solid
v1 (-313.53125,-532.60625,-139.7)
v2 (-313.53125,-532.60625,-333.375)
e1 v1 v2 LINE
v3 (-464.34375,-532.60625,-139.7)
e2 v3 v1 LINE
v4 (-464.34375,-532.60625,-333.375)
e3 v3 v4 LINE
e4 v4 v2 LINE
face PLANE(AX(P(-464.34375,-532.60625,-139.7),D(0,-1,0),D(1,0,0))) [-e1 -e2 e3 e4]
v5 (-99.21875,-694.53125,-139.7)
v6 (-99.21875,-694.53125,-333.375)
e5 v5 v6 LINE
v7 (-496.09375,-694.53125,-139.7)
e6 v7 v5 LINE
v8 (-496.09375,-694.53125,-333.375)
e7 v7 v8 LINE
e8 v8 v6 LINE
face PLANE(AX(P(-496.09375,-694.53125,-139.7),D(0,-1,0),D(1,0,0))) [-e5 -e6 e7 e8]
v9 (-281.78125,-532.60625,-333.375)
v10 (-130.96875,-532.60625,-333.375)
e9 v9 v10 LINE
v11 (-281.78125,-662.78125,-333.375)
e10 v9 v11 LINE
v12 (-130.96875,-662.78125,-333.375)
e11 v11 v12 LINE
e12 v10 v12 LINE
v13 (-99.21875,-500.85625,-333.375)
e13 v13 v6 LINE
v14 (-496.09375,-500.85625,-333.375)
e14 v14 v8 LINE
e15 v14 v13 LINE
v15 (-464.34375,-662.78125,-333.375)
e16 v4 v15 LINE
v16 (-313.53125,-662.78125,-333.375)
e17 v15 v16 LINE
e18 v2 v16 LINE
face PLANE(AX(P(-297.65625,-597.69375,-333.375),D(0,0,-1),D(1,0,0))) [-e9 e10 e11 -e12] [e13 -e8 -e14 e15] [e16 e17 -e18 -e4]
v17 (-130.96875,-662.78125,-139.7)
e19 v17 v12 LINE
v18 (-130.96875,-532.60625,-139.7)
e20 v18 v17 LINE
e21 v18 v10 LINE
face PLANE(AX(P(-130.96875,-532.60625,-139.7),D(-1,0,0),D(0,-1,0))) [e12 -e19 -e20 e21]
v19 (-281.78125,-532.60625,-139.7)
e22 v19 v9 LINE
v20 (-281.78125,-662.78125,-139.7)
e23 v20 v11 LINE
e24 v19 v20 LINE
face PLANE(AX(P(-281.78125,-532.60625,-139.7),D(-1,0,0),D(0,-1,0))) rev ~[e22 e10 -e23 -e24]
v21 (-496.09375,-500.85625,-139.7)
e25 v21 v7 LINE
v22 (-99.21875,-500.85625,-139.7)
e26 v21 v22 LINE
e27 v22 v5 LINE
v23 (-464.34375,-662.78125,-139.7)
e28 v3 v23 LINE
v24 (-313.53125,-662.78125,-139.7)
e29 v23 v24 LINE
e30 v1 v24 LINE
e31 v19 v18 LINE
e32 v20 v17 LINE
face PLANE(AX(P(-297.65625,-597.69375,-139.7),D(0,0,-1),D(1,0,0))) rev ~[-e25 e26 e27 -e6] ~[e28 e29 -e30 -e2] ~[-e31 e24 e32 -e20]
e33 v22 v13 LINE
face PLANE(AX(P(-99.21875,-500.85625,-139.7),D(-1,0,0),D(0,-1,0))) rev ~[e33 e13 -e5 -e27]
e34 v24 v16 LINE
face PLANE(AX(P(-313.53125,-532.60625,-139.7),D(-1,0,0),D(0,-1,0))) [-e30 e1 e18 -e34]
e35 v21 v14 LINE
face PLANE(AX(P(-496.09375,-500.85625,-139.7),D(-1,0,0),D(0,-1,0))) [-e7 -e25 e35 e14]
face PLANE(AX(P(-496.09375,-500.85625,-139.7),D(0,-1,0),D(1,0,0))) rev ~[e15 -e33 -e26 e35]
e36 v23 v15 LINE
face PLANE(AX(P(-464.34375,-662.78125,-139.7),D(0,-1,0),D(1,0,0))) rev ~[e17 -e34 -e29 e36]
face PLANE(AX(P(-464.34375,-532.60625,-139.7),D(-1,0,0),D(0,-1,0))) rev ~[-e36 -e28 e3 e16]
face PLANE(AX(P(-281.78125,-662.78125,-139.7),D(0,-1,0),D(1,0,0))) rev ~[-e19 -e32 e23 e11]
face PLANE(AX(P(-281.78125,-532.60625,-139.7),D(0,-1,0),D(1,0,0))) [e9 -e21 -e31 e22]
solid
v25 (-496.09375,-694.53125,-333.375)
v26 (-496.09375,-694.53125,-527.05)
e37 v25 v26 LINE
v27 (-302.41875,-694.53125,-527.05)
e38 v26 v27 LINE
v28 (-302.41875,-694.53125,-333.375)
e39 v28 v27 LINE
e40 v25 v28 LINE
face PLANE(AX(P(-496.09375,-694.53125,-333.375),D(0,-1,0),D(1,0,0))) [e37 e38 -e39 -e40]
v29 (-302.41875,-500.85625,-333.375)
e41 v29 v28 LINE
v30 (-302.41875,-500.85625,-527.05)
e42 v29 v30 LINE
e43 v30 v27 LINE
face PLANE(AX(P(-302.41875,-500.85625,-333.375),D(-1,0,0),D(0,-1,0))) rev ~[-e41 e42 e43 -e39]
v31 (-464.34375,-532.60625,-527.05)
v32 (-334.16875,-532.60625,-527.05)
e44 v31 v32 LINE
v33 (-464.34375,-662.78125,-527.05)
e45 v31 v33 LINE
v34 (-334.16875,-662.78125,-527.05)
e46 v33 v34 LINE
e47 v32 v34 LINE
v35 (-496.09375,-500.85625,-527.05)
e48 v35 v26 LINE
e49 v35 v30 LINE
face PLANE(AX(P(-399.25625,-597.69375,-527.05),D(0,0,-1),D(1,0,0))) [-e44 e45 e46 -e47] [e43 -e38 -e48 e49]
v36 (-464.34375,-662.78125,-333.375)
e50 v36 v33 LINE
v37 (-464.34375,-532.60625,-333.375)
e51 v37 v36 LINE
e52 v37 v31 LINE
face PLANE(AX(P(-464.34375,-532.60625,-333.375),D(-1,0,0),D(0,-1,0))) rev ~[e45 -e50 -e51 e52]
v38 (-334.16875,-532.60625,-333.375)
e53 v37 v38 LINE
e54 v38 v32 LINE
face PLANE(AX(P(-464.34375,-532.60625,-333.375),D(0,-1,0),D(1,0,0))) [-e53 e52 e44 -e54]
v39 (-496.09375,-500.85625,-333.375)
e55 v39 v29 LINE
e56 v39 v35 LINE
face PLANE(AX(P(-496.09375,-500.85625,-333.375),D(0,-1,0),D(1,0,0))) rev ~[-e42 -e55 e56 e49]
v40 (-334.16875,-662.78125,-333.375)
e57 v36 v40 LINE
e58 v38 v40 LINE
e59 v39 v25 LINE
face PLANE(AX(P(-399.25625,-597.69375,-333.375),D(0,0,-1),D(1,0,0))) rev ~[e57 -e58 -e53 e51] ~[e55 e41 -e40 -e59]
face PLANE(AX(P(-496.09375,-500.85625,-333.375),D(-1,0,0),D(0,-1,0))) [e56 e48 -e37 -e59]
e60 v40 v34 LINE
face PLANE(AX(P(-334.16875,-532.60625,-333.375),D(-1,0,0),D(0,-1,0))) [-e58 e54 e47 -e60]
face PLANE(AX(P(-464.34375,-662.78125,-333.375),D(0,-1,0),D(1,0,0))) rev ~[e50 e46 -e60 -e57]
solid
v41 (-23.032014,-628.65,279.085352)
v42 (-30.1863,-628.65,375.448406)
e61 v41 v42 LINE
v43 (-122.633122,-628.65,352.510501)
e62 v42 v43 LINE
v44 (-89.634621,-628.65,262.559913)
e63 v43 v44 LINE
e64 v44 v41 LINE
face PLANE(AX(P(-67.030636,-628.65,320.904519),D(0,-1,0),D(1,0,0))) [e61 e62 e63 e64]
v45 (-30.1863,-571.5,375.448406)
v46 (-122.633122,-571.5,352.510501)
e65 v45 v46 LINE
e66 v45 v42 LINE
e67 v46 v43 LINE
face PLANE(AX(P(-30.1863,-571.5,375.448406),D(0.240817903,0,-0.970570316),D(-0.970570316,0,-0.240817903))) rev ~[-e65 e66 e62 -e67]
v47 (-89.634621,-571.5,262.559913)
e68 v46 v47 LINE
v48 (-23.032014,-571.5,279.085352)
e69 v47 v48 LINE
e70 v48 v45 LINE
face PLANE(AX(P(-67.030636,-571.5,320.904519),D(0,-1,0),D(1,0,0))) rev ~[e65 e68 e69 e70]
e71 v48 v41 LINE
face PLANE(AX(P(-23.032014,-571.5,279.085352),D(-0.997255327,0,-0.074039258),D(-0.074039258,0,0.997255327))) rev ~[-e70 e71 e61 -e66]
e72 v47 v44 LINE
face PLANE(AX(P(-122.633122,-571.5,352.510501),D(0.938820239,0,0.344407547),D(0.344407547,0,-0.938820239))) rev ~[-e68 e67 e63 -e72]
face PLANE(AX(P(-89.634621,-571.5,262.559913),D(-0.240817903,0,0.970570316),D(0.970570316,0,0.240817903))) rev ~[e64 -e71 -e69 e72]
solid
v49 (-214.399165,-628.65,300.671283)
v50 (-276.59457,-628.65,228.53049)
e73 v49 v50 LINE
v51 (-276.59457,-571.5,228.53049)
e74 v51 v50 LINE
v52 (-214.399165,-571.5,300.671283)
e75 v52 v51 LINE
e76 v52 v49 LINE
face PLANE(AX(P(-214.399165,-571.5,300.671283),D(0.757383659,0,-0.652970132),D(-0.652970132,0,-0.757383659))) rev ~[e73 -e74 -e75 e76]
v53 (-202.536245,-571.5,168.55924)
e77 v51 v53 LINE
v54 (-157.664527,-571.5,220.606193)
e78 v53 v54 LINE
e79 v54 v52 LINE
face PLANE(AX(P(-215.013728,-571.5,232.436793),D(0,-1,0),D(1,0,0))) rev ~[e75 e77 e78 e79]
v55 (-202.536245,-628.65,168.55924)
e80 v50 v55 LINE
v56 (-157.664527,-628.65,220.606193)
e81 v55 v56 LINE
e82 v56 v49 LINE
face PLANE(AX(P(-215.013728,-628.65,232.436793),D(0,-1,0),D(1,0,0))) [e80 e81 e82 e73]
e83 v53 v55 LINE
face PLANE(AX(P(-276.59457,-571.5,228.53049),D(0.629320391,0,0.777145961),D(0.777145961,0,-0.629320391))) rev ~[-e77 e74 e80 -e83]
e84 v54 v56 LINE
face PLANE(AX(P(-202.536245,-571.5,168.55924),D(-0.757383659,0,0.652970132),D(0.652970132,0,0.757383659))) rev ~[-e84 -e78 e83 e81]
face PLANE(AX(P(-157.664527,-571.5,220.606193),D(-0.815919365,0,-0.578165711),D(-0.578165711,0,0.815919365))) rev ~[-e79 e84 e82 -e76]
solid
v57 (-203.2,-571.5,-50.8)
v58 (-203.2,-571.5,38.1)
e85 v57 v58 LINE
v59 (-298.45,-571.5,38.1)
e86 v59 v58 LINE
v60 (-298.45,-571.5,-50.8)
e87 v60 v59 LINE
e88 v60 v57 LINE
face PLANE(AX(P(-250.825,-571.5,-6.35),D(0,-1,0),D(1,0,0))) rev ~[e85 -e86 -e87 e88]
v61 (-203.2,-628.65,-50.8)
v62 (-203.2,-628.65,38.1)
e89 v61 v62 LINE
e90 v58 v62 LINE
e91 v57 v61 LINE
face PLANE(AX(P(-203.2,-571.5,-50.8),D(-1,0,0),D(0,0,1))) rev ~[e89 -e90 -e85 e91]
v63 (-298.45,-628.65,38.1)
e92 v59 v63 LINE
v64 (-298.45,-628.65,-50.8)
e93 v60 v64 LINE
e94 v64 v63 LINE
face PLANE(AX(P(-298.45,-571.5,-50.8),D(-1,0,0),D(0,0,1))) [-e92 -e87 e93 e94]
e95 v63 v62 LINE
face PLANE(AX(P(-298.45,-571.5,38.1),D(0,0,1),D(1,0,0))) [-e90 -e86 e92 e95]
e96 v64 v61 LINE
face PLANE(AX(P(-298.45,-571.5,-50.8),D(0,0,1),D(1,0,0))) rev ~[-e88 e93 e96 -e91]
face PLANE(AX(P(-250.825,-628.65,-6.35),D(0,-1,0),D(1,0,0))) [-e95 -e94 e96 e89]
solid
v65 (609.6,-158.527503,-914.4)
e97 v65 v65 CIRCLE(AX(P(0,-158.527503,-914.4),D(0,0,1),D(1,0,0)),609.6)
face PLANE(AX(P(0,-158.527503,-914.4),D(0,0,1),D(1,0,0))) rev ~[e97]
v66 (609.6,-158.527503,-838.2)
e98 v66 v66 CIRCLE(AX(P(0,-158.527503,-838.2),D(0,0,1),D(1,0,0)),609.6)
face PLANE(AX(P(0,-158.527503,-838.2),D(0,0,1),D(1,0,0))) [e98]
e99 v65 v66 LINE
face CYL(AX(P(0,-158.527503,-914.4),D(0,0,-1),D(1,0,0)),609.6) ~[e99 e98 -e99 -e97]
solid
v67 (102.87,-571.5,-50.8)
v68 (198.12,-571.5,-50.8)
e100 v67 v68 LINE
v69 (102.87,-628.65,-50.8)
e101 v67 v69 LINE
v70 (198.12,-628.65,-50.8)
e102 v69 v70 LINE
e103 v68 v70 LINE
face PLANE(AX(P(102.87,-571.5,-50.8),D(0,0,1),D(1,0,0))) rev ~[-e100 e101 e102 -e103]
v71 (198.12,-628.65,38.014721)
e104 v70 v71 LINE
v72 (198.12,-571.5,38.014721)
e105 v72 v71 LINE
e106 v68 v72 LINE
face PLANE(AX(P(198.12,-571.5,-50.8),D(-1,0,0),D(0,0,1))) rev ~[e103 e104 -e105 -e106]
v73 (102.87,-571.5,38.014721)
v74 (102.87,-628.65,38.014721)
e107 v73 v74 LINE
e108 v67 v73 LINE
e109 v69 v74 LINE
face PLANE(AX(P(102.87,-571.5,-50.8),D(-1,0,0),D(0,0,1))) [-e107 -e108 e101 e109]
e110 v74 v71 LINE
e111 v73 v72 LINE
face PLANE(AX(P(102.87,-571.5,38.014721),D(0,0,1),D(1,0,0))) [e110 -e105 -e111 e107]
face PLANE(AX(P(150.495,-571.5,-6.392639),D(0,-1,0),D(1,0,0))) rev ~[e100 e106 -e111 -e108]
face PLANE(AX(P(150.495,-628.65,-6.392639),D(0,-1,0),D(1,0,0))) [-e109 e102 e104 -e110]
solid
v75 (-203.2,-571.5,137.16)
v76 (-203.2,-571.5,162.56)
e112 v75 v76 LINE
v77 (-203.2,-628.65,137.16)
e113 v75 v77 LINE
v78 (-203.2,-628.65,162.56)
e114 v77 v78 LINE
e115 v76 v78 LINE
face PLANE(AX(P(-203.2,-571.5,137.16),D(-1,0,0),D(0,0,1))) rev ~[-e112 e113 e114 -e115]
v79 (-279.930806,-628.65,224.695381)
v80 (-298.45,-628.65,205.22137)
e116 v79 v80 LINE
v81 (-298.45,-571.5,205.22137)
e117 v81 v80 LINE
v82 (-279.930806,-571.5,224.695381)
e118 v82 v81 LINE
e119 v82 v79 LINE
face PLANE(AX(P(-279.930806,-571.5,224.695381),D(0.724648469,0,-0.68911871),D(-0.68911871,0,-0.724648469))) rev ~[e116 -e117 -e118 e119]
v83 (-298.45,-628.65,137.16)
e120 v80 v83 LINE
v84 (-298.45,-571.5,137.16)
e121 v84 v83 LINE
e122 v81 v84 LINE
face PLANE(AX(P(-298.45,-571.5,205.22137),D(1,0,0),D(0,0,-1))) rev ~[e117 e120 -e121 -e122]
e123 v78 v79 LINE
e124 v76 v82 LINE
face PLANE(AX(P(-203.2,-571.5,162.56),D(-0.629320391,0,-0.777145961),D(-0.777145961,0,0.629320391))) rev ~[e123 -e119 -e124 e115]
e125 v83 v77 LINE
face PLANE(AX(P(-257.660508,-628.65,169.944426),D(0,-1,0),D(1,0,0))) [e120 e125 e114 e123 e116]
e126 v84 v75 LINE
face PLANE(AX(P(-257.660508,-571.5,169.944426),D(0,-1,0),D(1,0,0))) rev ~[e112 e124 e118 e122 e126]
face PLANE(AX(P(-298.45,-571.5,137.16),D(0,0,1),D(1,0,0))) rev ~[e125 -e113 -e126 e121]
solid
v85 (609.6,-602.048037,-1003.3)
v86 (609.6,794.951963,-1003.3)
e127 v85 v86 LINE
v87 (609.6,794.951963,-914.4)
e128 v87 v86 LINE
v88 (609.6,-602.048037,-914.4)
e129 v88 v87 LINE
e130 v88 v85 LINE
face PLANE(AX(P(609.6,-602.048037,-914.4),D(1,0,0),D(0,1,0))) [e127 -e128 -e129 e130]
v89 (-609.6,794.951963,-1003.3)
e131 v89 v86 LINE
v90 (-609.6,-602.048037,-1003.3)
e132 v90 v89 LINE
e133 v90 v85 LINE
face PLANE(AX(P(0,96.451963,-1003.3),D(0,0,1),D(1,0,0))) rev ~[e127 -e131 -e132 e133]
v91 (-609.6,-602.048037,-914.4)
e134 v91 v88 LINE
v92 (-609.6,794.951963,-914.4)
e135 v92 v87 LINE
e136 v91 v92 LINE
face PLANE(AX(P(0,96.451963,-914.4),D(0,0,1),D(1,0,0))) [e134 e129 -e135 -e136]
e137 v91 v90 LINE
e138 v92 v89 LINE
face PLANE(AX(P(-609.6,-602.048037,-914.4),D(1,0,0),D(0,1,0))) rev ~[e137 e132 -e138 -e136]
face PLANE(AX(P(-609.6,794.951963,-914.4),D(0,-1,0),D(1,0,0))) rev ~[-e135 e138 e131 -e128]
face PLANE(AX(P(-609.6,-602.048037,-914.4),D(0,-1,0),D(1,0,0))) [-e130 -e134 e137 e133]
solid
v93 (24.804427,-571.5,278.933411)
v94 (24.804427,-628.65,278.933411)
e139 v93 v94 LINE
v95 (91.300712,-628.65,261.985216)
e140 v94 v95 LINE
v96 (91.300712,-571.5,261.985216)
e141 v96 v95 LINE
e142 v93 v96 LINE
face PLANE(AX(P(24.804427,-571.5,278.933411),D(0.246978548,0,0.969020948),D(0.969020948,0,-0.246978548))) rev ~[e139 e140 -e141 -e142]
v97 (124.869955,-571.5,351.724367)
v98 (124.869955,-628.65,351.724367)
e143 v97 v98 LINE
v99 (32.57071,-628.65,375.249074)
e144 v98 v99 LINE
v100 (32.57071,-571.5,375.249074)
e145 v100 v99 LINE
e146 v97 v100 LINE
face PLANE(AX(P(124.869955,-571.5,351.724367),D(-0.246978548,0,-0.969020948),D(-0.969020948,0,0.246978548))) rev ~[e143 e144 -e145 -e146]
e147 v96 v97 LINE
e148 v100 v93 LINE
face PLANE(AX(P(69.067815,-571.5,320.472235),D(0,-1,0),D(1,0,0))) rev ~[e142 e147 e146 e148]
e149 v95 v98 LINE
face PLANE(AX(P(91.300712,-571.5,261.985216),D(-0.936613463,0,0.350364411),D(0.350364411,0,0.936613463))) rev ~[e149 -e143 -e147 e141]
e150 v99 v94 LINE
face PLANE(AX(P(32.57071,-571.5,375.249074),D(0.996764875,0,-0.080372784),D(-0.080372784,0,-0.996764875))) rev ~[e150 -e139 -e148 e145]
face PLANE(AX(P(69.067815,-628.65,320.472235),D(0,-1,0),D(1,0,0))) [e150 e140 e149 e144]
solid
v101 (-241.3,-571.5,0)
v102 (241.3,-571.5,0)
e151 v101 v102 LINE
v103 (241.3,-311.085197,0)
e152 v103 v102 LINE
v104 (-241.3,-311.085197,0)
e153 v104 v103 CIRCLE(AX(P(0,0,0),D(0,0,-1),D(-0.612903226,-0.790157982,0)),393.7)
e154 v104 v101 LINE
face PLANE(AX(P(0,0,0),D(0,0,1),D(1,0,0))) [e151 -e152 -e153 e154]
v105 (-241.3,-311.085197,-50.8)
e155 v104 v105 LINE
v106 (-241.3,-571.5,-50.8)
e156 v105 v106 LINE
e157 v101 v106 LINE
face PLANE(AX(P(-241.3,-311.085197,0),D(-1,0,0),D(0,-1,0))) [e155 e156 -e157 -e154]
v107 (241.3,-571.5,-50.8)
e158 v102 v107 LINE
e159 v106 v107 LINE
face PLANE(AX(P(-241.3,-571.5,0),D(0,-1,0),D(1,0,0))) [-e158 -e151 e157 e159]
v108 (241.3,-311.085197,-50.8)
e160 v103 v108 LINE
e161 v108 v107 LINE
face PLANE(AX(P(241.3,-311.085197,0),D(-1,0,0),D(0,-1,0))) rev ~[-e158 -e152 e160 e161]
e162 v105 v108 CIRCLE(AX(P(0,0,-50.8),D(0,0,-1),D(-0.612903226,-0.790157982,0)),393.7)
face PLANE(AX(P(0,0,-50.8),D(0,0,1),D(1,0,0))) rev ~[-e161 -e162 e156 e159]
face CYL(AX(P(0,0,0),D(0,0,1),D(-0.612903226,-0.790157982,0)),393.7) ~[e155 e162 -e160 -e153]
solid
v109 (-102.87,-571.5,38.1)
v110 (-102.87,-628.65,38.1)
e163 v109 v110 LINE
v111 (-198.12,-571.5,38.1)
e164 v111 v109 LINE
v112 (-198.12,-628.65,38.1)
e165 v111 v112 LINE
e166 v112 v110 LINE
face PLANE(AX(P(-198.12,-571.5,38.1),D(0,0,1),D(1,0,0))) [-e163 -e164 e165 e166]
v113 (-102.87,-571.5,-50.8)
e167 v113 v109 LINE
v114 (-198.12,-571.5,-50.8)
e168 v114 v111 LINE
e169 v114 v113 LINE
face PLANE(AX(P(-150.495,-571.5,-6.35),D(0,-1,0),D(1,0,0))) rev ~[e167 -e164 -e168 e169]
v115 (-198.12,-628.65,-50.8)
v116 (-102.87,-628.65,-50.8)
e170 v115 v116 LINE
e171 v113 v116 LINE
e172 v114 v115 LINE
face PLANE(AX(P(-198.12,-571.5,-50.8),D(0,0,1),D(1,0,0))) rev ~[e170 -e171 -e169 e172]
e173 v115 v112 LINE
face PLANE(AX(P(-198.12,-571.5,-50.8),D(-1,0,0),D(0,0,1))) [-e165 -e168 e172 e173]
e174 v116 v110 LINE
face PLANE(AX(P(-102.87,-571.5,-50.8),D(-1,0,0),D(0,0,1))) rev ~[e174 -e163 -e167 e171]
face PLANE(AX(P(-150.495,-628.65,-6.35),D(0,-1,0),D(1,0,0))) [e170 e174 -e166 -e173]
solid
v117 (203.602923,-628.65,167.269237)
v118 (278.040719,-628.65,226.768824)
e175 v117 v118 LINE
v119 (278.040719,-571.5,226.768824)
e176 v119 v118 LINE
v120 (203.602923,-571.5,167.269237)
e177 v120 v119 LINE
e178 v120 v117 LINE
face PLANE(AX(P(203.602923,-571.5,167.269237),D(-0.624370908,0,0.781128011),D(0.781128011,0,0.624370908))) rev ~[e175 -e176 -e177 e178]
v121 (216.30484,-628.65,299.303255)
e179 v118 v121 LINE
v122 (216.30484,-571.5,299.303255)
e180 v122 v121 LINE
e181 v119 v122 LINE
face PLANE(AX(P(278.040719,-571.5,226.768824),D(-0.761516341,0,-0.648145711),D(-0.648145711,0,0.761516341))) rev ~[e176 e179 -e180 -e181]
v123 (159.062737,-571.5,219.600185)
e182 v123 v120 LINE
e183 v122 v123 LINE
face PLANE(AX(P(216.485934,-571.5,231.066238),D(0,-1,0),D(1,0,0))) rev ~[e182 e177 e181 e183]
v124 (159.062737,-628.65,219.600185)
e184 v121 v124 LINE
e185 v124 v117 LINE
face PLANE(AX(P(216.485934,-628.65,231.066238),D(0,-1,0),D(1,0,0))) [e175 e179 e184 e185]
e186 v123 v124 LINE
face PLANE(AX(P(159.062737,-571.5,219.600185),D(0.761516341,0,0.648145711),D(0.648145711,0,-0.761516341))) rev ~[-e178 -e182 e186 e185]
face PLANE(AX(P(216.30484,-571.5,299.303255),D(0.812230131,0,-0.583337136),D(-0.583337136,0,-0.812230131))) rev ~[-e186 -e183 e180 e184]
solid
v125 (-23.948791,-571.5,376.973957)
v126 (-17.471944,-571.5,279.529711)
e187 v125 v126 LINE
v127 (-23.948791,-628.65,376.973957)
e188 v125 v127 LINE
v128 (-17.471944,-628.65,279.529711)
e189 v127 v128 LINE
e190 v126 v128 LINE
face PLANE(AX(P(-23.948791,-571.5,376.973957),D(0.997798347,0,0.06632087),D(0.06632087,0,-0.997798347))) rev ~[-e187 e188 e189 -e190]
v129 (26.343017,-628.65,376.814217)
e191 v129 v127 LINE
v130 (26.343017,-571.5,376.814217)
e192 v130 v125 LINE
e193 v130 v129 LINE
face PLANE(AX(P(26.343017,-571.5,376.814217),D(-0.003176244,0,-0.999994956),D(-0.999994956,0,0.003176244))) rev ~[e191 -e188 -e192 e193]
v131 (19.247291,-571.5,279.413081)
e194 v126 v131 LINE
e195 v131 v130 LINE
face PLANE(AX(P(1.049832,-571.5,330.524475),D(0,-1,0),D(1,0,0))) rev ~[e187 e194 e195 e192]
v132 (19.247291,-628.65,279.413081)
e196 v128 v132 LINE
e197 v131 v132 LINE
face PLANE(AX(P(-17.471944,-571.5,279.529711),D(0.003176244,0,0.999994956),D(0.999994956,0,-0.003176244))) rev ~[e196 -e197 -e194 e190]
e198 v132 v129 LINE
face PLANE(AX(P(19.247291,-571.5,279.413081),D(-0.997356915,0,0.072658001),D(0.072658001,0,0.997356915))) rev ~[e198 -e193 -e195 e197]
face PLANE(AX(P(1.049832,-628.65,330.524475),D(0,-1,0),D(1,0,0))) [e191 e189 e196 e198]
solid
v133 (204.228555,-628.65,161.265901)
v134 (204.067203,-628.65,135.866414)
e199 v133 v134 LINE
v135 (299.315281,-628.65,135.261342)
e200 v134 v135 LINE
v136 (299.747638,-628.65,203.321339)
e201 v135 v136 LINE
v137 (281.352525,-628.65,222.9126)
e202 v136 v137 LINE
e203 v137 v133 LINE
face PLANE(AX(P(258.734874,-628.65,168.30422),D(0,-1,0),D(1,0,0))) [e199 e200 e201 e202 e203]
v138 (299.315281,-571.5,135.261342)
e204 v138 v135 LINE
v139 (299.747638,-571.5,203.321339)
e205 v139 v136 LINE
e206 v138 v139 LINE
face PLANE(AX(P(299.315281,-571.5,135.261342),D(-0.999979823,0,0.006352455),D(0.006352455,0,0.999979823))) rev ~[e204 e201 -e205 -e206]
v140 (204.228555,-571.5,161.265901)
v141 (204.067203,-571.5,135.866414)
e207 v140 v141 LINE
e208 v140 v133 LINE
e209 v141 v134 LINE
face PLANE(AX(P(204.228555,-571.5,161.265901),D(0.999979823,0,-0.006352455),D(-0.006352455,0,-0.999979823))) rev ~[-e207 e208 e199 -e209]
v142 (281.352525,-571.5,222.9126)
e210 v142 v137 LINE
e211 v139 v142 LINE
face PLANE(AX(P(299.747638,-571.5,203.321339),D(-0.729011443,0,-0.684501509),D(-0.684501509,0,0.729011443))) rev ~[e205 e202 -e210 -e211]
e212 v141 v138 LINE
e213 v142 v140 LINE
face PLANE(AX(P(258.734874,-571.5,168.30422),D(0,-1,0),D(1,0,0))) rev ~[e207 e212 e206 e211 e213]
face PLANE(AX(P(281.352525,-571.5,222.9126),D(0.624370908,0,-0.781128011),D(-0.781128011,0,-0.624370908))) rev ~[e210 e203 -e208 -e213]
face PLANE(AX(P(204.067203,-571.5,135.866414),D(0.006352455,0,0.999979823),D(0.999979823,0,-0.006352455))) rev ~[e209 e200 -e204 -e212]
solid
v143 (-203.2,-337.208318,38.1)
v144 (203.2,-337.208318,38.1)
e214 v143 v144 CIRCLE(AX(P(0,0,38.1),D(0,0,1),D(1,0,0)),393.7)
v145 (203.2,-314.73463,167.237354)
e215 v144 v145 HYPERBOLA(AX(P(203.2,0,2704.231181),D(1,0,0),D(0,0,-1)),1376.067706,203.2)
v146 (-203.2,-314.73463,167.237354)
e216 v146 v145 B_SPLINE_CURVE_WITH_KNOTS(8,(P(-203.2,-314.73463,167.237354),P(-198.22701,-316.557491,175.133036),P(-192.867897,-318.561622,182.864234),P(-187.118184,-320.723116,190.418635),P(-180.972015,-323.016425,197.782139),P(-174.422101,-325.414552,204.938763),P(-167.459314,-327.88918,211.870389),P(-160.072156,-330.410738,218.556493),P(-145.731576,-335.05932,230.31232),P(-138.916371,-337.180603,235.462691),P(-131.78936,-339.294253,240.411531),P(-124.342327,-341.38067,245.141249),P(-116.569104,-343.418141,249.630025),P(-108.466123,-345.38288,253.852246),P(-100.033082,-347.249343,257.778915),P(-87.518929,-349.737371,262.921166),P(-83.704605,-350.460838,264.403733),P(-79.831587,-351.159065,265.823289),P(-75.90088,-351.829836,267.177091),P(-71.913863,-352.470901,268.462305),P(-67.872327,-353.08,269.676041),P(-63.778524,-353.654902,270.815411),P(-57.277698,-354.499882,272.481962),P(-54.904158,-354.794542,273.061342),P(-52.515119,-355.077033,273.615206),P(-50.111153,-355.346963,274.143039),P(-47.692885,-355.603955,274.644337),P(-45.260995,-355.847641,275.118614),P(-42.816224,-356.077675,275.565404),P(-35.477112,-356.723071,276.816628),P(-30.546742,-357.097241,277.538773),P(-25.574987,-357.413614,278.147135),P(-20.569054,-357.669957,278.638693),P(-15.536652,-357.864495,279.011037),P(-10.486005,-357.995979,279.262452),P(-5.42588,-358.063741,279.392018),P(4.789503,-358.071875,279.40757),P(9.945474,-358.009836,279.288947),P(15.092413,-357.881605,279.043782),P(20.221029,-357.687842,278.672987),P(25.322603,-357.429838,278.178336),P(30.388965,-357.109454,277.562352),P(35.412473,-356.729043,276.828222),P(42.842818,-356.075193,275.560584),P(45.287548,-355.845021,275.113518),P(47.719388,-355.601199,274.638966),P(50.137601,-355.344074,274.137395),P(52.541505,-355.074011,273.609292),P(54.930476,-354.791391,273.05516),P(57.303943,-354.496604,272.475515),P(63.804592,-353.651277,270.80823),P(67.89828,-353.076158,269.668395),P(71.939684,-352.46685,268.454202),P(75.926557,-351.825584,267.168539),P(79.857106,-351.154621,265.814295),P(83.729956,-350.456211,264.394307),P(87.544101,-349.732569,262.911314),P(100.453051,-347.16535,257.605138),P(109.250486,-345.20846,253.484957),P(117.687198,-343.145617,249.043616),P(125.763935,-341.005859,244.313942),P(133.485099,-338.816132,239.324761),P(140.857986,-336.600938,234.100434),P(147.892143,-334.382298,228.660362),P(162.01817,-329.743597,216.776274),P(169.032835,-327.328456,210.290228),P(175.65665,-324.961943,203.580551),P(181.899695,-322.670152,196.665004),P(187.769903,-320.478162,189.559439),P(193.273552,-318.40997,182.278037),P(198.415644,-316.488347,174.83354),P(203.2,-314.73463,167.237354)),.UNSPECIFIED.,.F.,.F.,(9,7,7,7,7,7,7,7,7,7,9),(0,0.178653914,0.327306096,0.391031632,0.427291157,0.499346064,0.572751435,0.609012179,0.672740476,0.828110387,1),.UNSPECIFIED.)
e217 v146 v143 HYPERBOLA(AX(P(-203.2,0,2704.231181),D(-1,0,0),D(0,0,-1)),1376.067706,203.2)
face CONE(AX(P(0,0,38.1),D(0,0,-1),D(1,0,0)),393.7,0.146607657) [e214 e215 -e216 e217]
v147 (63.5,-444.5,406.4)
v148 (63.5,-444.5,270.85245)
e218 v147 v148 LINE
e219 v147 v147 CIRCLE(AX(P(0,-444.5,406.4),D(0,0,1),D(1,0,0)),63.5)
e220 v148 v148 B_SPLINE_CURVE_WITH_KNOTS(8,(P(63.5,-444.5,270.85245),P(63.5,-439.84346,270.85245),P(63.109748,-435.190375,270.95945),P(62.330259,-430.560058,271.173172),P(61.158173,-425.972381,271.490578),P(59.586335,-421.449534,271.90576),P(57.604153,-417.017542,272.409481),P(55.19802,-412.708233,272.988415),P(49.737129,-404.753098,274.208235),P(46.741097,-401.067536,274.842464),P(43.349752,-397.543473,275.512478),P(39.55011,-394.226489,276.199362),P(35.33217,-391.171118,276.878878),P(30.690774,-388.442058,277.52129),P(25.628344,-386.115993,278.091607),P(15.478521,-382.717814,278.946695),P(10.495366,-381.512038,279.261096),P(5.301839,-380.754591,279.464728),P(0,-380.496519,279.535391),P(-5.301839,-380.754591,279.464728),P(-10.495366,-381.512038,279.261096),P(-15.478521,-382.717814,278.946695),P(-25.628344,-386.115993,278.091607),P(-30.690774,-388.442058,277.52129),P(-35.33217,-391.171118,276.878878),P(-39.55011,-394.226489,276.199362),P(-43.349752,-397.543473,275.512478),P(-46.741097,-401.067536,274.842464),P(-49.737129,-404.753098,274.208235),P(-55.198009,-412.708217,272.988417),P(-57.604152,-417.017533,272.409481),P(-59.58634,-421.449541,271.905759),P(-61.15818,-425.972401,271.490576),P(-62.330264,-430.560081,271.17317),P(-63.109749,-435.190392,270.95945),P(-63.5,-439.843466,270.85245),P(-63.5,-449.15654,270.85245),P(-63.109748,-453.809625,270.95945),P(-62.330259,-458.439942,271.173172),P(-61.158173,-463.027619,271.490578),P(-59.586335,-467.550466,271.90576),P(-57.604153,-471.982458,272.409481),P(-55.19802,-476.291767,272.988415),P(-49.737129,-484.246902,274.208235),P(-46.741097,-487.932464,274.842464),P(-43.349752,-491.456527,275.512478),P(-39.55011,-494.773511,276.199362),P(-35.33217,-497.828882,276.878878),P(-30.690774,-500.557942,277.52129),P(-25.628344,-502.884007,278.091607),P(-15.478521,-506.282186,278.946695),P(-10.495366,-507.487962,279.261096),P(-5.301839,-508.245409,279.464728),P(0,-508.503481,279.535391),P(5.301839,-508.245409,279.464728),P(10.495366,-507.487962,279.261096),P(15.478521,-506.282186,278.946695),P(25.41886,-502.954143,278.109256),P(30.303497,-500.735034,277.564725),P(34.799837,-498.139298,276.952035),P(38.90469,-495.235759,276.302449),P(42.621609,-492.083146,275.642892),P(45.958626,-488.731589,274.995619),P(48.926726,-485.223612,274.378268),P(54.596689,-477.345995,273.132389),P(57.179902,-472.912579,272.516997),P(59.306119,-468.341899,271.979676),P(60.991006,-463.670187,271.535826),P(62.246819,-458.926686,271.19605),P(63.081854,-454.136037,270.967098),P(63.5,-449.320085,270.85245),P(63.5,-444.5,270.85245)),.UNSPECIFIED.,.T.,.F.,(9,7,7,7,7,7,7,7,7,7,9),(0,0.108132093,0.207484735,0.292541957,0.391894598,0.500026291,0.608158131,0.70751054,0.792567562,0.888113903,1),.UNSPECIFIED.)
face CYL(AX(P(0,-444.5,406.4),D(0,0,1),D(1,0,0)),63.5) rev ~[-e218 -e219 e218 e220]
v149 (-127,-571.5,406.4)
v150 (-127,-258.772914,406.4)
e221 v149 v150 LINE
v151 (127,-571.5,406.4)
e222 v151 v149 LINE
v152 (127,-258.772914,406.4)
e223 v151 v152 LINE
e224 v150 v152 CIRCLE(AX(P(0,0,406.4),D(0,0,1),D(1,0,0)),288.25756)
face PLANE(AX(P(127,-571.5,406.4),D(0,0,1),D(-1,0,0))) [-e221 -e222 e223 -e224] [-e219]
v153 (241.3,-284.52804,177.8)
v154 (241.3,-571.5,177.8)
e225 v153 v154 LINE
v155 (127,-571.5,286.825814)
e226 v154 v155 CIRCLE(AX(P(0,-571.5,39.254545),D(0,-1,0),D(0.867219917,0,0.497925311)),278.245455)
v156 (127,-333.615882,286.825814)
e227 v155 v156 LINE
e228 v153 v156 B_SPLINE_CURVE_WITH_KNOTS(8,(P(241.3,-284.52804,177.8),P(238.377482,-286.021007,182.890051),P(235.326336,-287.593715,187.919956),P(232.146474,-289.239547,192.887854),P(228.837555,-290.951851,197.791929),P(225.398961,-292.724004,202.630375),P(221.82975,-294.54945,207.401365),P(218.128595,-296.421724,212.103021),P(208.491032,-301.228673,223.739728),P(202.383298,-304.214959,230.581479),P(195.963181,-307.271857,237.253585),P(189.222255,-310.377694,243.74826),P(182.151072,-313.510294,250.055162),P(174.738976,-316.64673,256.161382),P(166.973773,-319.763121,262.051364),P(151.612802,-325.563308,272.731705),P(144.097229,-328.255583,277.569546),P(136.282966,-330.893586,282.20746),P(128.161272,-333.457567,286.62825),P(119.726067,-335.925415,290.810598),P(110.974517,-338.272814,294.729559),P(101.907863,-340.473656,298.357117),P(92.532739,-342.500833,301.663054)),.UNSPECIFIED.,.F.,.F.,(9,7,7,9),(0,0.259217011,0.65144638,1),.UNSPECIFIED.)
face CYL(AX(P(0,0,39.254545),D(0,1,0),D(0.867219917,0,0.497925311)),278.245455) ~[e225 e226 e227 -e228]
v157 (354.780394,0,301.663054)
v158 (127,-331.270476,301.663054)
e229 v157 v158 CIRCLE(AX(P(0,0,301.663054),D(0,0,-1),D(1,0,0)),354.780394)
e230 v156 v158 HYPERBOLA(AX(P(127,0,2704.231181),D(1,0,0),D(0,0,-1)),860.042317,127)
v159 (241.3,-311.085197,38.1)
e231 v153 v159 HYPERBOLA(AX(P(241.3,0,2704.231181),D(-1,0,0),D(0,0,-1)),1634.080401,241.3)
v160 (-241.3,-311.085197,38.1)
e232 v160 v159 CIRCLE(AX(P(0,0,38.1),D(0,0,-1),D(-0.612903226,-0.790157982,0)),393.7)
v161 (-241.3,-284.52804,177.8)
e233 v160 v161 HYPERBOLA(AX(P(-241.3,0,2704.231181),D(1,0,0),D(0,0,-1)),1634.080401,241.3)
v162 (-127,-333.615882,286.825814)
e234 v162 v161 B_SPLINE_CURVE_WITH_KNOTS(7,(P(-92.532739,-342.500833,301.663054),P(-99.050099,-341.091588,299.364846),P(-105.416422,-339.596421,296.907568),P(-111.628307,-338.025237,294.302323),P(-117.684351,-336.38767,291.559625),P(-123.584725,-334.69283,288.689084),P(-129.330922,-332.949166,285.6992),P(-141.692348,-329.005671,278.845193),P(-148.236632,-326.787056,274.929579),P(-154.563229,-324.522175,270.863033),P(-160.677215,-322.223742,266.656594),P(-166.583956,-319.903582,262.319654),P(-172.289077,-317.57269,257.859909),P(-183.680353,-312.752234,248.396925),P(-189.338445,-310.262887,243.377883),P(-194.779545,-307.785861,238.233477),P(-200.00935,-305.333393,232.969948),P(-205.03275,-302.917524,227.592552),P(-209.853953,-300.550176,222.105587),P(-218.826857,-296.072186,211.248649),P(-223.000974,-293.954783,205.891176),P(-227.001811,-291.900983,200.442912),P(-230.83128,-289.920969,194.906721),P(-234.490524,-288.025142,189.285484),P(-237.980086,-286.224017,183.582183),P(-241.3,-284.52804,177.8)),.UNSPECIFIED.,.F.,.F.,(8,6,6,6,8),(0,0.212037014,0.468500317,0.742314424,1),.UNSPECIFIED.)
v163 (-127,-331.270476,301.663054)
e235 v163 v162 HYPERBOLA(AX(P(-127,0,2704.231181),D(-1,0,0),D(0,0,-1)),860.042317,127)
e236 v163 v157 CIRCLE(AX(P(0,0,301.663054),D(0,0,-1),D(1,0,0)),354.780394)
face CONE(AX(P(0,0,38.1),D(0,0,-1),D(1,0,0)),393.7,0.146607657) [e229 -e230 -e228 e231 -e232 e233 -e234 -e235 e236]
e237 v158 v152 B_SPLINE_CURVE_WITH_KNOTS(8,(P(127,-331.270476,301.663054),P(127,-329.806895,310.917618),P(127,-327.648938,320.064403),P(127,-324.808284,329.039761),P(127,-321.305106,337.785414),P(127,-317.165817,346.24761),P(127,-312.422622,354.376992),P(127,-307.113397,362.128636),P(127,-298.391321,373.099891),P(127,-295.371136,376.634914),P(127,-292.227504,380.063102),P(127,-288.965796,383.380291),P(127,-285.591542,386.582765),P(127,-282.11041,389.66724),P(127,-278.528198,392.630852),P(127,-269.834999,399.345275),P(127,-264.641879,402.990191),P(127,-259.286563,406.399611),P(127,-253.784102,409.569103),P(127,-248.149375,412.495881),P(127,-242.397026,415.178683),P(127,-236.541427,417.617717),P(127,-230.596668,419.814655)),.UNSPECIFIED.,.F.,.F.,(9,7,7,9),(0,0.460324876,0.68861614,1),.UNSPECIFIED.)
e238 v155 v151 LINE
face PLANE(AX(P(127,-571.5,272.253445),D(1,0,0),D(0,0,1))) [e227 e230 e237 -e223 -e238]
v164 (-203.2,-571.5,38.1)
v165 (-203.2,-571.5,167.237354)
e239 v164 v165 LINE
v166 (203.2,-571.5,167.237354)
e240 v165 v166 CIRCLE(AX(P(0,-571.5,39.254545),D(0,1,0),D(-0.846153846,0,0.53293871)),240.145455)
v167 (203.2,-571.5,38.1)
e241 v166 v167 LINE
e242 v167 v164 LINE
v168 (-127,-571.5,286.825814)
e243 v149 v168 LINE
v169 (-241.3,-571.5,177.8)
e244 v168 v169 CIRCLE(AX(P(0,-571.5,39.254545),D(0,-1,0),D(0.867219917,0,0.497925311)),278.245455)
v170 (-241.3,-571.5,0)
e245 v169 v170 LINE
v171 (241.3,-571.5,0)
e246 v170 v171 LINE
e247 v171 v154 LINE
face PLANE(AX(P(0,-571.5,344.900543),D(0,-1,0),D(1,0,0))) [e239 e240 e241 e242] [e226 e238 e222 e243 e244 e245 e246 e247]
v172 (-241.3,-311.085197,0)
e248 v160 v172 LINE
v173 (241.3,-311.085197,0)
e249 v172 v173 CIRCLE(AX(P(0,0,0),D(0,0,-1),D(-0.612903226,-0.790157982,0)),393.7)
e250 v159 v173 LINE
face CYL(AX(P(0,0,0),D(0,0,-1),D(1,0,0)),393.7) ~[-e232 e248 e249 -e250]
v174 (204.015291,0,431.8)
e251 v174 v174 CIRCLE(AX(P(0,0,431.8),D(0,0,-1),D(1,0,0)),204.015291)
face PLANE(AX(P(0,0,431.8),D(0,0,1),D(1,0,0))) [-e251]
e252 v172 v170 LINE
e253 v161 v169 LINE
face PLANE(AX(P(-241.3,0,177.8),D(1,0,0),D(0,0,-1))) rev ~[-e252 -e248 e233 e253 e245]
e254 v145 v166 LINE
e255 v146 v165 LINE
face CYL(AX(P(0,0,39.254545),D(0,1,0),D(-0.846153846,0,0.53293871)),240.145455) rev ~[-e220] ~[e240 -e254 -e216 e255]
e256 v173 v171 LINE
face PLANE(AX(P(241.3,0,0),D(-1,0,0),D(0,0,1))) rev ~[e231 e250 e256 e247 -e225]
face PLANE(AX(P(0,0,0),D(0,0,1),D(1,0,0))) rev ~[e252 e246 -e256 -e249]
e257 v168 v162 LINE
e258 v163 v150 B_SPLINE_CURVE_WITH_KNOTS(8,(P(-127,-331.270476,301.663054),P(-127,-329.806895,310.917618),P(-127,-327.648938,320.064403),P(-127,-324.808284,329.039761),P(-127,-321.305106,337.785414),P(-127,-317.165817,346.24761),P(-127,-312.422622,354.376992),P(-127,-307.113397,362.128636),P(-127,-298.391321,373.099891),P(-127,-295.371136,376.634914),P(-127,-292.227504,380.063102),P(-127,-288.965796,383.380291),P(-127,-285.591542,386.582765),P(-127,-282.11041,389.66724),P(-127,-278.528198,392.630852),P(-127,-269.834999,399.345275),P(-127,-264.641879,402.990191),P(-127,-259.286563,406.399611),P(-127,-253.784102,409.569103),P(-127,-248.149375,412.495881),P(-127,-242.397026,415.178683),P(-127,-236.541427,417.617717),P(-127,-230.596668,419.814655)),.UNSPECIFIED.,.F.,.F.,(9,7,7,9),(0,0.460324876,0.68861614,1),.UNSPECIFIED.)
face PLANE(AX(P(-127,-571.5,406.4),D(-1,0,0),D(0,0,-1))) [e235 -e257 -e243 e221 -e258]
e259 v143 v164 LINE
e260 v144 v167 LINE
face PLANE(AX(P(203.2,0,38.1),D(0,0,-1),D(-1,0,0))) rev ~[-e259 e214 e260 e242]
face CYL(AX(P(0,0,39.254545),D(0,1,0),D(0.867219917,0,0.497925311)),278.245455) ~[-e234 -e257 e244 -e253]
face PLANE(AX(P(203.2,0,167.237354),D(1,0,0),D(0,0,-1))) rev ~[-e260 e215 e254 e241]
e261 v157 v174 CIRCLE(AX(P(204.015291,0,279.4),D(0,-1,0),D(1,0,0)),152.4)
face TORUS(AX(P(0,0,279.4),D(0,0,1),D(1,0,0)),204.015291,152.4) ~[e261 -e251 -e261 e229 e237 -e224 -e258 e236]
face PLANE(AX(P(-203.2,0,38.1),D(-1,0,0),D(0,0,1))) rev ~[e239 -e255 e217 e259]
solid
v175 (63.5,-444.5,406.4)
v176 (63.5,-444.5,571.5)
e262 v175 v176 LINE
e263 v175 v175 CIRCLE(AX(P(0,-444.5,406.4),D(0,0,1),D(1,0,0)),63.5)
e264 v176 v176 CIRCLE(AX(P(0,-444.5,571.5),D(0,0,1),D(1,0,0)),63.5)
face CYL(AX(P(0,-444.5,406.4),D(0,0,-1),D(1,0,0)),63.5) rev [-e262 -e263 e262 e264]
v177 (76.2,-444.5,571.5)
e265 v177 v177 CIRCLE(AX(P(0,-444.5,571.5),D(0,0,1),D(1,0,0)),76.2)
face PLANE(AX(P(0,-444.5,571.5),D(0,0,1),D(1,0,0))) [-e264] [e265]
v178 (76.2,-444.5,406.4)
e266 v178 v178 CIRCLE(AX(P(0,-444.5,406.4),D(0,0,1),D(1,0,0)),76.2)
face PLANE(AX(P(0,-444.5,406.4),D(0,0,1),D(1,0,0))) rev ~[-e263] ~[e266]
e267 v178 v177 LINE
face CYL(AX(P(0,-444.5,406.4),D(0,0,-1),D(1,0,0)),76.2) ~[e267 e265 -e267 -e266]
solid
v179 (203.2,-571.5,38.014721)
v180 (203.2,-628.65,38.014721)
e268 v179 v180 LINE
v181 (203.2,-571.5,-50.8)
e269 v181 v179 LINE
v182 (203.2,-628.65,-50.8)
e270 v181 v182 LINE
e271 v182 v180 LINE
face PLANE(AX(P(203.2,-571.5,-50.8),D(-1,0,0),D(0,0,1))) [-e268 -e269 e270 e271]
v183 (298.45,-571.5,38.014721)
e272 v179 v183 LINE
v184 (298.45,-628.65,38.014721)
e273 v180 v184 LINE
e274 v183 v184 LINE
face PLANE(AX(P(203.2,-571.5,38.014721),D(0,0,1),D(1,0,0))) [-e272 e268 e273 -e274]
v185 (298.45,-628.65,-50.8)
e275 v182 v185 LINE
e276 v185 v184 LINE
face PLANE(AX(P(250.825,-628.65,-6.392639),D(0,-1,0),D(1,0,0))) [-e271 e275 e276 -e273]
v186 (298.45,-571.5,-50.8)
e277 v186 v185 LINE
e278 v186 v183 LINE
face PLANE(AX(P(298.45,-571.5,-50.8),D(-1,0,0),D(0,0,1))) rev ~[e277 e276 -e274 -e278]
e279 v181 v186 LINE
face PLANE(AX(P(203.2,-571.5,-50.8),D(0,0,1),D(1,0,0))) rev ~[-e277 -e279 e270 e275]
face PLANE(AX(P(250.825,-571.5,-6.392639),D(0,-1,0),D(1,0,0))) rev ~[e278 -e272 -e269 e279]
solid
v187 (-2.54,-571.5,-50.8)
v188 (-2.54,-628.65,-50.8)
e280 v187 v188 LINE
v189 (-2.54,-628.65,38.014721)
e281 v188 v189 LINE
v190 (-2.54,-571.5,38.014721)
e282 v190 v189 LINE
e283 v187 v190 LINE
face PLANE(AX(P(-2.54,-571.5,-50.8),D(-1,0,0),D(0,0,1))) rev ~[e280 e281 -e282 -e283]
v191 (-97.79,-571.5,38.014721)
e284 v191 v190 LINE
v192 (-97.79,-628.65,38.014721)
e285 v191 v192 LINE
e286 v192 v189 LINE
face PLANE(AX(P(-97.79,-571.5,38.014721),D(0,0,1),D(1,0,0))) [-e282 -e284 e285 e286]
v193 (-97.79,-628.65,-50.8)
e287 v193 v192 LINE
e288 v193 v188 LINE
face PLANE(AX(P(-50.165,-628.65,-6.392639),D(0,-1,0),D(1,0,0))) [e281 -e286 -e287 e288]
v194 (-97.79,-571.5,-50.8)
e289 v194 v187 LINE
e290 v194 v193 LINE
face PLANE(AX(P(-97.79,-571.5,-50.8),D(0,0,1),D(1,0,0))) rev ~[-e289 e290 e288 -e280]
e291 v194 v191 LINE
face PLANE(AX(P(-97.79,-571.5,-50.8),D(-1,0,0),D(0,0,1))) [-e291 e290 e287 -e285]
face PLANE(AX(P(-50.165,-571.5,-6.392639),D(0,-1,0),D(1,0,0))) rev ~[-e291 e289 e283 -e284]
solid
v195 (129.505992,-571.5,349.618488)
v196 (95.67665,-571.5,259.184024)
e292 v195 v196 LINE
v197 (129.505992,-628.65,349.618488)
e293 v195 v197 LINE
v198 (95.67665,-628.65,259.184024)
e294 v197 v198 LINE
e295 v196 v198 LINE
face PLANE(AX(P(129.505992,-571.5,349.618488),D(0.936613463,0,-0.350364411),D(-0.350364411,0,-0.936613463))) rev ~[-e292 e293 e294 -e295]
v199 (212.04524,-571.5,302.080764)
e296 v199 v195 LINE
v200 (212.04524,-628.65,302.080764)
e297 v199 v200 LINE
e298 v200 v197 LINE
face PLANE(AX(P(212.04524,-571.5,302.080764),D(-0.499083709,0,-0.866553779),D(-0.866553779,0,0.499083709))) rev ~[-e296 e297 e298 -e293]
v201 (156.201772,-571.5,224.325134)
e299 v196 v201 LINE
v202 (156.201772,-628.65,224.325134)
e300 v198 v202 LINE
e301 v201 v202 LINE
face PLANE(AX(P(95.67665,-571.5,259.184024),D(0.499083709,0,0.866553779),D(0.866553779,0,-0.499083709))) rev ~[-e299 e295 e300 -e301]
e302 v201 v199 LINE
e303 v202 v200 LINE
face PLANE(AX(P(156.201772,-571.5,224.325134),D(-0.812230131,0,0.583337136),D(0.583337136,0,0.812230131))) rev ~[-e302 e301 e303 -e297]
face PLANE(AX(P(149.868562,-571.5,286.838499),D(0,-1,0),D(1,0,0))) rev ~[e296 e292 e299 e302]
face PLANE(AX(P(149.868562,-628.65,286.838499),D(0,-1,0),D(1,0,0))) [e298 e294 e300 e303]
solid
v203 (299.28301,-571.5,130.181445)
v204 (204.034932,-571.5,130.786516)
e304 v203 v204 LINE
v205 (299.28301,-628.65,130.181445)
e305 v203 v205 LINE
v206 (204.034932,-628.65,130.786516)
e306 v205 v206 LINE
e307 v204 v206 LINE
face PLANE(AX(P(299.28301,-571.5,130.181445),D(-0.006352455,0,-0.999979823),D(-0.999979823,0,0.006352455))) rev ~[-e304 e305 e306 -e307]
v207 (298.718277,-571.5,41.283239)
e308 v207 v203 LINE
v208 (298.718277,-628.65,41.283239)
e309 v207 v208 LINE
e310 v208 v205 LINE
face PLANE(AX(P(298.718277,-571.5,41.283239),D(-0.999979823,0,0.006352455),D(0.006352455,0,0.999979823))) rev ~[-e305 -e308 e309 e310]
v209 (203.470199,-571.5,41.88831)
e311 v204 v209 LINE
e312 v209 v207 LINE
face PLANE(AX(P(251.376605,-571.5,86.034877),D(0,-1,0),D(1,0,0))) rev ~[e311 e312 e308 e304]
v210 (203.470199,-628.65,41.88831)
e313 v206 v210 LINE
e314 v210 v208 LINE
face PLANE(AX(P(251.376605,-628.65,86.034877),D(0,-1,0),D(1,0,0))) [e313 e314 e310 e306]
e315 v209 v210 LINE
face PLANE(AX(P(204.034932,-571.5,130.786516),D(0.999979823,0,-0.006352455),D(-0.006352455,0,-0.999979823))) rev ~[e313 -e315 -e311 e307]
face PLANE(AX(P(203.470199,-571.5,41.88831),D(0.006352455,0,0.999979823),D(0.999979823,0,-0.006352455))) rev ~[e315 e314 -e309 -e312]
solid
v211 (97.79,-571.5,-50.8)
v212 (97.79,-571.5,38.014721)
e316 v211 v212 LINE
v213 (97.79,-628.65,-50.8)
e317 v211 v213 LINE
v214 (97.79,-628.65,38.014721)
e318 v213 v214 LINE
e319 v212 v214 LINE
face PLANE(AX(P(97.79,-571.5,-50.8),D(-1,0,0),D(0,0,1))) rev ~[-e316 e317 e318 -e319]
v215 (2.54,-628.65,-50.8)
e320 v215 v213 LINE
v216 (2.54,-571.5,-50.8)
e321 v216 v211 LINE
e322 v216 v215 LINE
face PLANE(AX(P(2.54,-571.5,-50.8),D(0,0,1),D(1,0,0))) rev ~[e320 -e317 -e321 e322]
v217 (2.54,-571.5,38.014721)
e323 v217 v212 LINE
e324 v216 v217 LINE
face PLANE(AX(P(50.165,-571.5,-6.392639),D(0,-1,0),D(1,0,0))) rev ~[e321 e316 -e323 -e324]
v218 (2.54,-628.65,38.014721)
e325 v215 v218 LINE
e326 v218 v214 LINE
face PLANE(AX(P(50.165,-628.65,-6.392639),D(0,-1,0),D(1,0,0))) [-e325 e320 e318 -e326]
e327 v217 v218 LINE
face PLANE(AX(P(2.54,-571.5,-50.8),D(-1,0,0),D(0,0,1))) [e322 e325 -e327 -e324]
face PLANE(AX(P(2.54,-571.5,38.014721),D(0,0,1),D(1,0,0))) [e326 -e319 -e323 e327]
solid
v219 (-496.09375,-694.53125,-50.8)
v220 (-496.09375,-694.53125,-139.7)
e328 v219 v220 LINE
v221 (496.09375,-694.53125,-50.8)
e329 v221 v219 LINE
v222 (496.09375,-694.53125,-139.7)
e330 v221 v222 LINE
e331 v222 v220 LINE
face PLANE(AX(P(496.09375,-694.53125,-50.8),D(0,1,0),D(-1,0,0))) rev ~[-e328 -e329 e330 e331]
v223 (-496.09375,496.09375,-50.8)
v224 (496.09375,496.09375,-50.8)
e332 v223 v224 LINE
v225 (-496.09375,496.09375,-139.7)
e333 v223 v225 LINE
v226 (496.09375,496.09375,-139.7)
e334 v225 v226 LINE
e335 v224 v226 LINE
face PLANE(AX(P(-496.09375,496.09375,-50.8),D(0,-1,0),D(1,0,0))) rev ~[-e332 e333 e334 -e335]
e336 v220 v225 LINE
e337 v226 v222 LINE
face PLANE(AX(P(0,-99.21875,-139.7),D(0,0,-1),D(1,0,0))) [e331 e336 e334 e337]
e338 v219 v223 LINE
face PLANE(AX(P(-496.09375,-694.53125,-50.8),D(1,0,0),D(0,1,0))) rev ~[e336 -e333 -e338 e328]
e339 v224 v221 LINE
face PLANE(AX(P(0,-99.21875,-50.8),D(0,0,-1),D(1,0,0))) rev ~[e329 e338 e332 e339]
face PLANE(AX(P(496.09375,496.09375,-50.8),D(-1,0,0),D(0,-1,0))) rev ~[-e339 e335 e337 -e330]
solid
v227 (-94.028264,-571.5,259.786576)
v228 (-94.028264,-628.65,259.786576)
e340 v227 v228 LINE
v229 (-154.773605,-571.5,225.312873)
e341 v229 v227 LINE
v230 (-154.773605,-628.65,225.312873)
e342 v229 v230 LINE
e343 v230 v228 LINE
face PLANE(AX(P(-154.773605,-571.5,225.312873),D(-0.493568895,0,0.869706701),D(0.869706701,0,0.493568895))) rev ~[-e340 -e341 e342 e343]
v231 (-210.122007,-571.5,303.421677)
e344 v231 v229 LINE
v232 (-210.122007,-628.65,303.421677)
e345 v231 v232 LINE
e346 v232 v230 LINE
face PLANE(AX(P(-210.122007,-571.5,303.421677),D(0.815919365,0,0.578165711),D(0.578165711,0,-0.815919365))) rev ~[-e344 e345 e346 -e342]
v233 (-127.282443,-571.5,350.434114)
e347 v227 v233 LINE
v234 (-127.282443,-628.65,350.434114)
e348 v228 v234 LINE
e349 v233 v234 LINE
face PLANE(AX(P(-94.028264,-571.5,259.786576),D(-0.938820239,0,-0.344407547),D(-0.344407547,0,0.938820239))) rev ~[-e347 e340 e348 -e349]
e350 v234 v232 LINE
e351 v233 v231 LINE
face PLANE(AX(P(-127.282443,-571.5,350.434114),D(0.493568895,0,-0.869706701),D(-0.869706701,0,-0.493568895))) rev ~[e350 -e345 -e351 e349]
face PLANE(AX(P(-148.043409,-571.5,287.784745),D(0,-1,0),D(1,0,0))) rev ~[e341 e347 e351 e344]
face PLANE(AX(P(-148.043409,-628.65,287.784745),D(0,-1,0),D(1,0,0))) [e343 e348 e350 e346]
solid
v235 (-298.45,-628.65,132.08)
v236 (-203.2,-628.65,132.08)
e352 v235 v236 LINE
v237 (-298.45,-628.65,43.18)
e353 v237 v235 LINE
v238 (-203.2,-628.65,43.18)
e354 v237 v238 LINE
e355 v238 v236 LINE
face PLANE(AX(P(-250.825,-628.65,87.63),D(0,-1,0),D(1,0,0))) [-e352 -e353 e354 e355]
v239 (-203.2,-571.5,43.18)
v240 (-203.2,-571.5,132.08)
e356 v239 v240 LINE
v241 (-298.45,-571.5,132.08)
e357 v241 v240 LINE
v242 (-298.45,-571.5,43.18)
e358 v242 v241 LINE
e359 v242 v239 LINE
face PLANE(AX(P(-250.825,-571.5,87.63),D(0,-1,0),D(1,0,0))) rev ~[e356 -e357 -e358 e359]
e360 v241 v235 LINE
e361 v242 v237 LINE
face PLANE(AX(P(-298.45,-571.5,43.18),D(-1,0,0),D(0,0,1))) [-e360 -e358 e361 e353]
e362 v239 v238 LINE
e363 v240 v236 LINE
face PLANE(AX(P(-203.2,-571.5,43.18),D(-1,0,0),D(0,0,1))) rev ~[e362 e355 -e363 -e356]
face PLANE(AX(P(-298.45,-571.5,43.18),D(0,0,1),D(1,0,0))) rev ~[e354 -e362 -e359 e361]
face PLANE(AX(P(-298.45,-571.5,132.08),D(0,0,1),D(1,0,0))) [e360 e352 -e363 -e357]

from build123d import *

# Parameters (mm, degrees)
F0_R      = 393.7
F1_DEPTH  = 38.1
F1_FACE_R = 393.7
F2_DEPTH  = 393.7
F2_TAPER  = 8.4
F3_R      = 152.4
F5_DEPTH  = 571.5
F7_DEPTH  = 313.7270858023
F8_R      = 63.5
F9_DEPTH  = 233.38389
F10_DEPTH = 50.8
F11_R     = 76.2
F11_R_2   = 63.5
F12_DEPTH = 165.1
F16_W     = 95.25
F16_H     = 88.9
F17_DEPTH = 57.15
F16_H_2   = 88.8147211254
F20_W     = 396.875
F20_H     = 193.675
F20_W_2   = 150.8125
F20_H_2   = 130.175
F21_DEPTH = 193.675
F23_DEPTH = 88.9
F24_W     = 193.675
F24_H     = 193.675
F24_W_2   = 130.175
F24_H_2   = 130.175
F25_DEPTH = 193.675
F19_W     = 1219.2
F19_H     = 1397
F26_DEPTH = 88.9
F27_R     = 609.6
F28_DEPTH = 76.2


with BuildPart() as f1:
    # F0 (on Top) → F1 (new body)
    with BuildSketch(Plane.XY):
        Circle(F0_R)
    extrude(amount=F1_DEPTH)

    # F1_face (on face) → F2 (join)
    with BuildSketch(Plane.XY.offset(38.1)):
        Circle(F1_FACE_R)
    extrude(amount=F2_DEPTH, taper=F2_TAPER)

    # F3
    f3_edges = [f1.edges().sort_by_distance(p)[0] for p in [
        (-335.563442, 0, 431.8),
    ]]
    fillet(f3_edges, radius=F3_R)

    # F4 (on Front) → F5 (join)
    with BuildSketch(Plane.XZ):
        with BuildLine():
            Line((-241.3, 0), (0, 0))
            Line((0, 0), (241.3, 0))
            Line((241.3, 0), (241.3, 177.8))
            ThreePointArc((241.3, 177.8), (0, 317.5), (-241.3, 177.8))
            Line((-241.3, 177.8), (-241.3, 0))
        make_face()
        with BuildLine():
            Line((-203.2, 38.1), (-203.2, 167.2373542175))
            ThreePointArc((-203.2, 167.2373542175), (0, 279.4), (203.2, 167.2373542175))
            Line((203.2, 167.2373542175), (203.2, 38.1))
            Line((203.2, 38.1), (-203.2, 38.1))
        make_face(mode=Mode.SUBTRACT)
    extrude(amount=F5_DEPTH)

    # F6 (on face) → F7 (join, up to face)
    with BuildSketch(Plane.XZ.offset(571.5)):
        with BuildLine():
            Line((127, 406.4), (0, 406.4))
            Line((0, 406.4), (-127, 406.4))
            Line((-127, 406.4), (-127, 272.2534450197))
            ThreePointArc((-127, 272.2534450197), (0, 304.4772434248), (127, 272.2534450197))
            Line((127, 272.2534450197), (127, 406.4))
        make_face()
    extrude(amount=-F7_DEPTH)

    # F8 (on face) → F9 (cut)
    with BuildSketch(Plane.XY.offset(406.4)):
        with Locations((0, -444.5)):
            Circle(F8_R)
    extrude(amount=-F9_DEPTH, mode=Mode.SUBTRACT)


with BuildPart() as f10:
    # F10 (new): a face of the model
    f10_faces = [f1.part.faces().sort_by_distance(p)[0] for p in [
        (0, -78.7343872784, 0),
    ]]
    extrude(f10_faces, amount=F10_DEPTH)


with BuildPart() as f12:
    # F11 (on face) → F12 (new body)
    with BuildSketch(Plane.XY.offset(406.4)):
        with Locations((0, -444.5)):
            Circle(F11_R)
        with Locations((0, -444.5)):
            Circle(F11_R_2, mode=Mode.SUBTRACT)
    extrude(amount=F12_DEPTH)


with BuildPart() as f17:
    # F16 (on face) → F17 (new body)
    with BuildSketch(Plane.XZ.offset(571.5)):
        with Locations((-250.825, 87.63)):
            Rectangle(F16_W, F16_H)
    extrude(amount=F17_DEPTH)


with BuildPart() as f17b:
    # F16 (on face) → F17, piece 2 (new body)
    with BuildSketch(Plane.XZ.offset(571.5)):
        Polygon((-298.45, 137.16), (-203.2, 137.16), (-203.2, 162.56), (-279.9308058132, 224.6953814017), (-298.45, 205.2213698626), align=None)
    extrude(amount=F17_DEPTH)


with BuildPart() as f17c:
    # F16 (on face) → F17, piece 3 (new body)
    with BuildSketch(Plane.XZ.offset(571.5)):
        with Locations((-250.825, -6.35)):
            Rectangle(F16_W, F16_H)
    extrude(amount=F17_DEPTH)


with BuildPart() as f17d:
    # F16 (on face) → F17, piece 4 (new body)
    with BuildSketch(Plane.XZ.offset(571.5)):
        with Locations((-150.495, -6.35)):
            Rectangle(F16_W, F16_H)
    extrude(amount=F17_DEPTH)


with BuildPart() as f17e:
    # F16 (on face) → F17, piece 5 (new body)
    with BuildSketch(Plane.XZ.offset(571.5)):
        with Locations((-50.165, -6.3926394373)):
            Rectangle(F16_W, F16_H_2)
    extrude(amount=F17_DEPTH)


with BuildPart() as f17f:
    # F16 (on face) → F17, piece 6 (new body)
    with BuildSketch(Plane.XZ.offset(571.5)):
        with Locations((50.165, -6.3926394373)):
            Rectangle(F16_W, F16_H_2)
    extrude(amount=F17_DEPTH)


with BuildPart() as f17g:
    # F16 (on face) → F17, piece 7 (new body)
    with BuildSketch(Plane.XZ.offset(571.5)):
        with Locations((250.825, -6.3926394373)):
            Rectangle(F16_W, F16_H_2)
    extrude(amount=F17_DEPTH)


with BuildPart() as f17h:
    # F16 (on face) → F17, piece 8 (new body)
    with BuildSketch(Plane.XZ.offset(571.5)):
        with Locations((150.495, -6.3926394373)):
            Rectangle(F16_W, F16_H_2)
    extrude(amount=F17_DEPTH)


with BuildPart() as f17i:
    # F16 (on face) → F17, piece 9 (new body)
    with BuildSketch(Plane.XZ.offset(571.5)):
        Polygon((-276.5945702872, 228.5304897365), (-202.5362449804, 168.5592403779), (-157.664527389, 220.6061931845), (-214.3991652094, 300.6712832393), align=None)
    extrude(amount=F17_DEPTH)


with BuildPart() as f17j:
    # F16 (on face) → F17, piece 10 (new body)
    with BuildSketch(Plane.XZ.offset(571.5)):
        Polygon((-210.122006613, 303.4216771878), (-154.773605293, 225.3128726494), (-94.0282642841, 259.7865760326), (-127.2824433394, 350.4341144425), align=None)
    extrude(amount=F17_DEPTH)


with BuildPart() as f17k:
    # F16 (on face) → F17, piece 11 (new body)
    with BuildSketch(Plane.XZ.offset(571.5)):
        Polygon((-23.0320143219, 279.0853518379), (-30.1862995769, 375.4484061295), (-122.6331221524, 352.5105009135), (-89.634620555, 262.5599134685), align=None)
    extrude(amount=F17_DEPTH)


with BuildPart() as f17l:
    # F16 (on face) → F17, piece 12 (new body)
    with BuildSketch(Plane.XZ.offset(571.5)):
        Polygon((-17.4719436025, 279.5297109173), (0.8876737155, 279.4713960058), (19.2472910336, 279.4130810943), (26.3430174587, 376.8142169835), (1.1971134766, 376.8940869034), (-23.9487905055, 376.9739568233), align=None)
    extrude(amount=F17_DEPTH)


with BuildPart() as f17m:
    # F16 (on face) → F17, piece 13 (new body)
    with BuildSketch(Plane.XZ.offset(571.5)):
        Polygon((95.676649655, 259.1840239711), (156.2017723463, 224.3251341085), (212.0452395799, 302.0807644026), (129.5059921651, 349.618487699), align=None)
    extrude(amount=F17_DEPTH)


with BuildPart() as f17n:
    # F16 (on face) → F17, piece 14 (new body)
    with BuildSketch(Plane.XZ.offset(571.5)):
        Polygon((203.6029234186, 167.2692369293), (278.0407191214, 226.7688240521), (216.3048401215, 299.3032554906), (159.0627371416, 219.6001851575), align=None)
    extrude(amount=F17_DEPTH)


with BuildPart() as f17o:
    # F16 (on face) → F17, piece 15 (new body)
    with BuildSketch(Plane.XZ.offset(571.5)):
        Polygon((299.283010442, 130.1814447638), (204.0349323057, 130.7865161207), (203.4701990392, 41.8883098602), (298.7182771755, 41.2832385032), align=None)
    extrude(amount=F17_DEPTH)


with BuildPart() as f17p:
    # F16 (on face) → F17, piece 16 (new body)
    with BuildSketch(Plane.XZ.offset(571.5)):
        Polygon((124.8699549397, 351.7243668791), (32.5707096832, 375.2490735739), (24.804426796, 278.9334108806), (91.3007120784, 261.9852158741), align=None)
    extrude(amount=F17_DEPTH)


with BuildPart() as f17q:
    # F16 (on face) → F17, piece 17 (new body)
    with BuildSketch(Plane.XZ.offset(571.5)):
        Polygon((299.7476377167, 203.3213388494), (281.3525249782, 222.9125998118), (204.22855514, 161.2659011243), (204.0672027781, 135.8664136213), (299.3152809144, 135.2613422644), align=None)
    extrude(amount=F17_DEPTH)


with BuildPart() as f21:
    # F20 (on offset) → F21 (new body)
    with BuildSketch(Plane(origin=(0, 0, -139.7), x_dir=(1, 0, 0), z_dir=(0, 0, -1))):
        with Locations((-297.65625, 597.69375)):
            Rectangle(F20_W, F20_H)
        with Locations((-388.9375, 597.69375)):
            Rectangle(F20_W_2, F20_H_2, mode=Mode.SUBTRACT)
        with Locations((-206.375, 597.69375)):
            Rectangle(F20_W_2, F20_H_2, mode=Mode.SUBTRACT)
    extrude(amount=F21_DEPTH)


with BuildPart() as f23:
    # F22 (on offset) → F23 (new body)
    with BuildSketch(Plane(origin=(0, 0, -50.8), x_dir=(1, 0, 0), z_dir=(0, 0, -1))):
        Polygon((-496.09375, 694.53125), (-496.09375, -496.09375), (496.09375, -496.09375), (496.09375, 694.53125), (297.65625, 694.53125), align=None)
    extrude(amount=F23_DEPTH)


with BuildPart() as f25:
    # F24 (on face) → F25 (new body)
    with BuildSketch(Plane(origin=(0, 0, -333.375), x_dir=(1, 0, 0), z_dir=(0, 0, -1))):
        with Locations((-399.25625, 597.69375)):
            Rectangle(F24_W, F24_H)
        with Locations((-399.25625, 597.69375)):
            Rectangle(F24_W_2, F24_H_2, mode=Mode.SUBTRACT)
    extrude(amount=F25_DEPTH)


with BuildPart() as f26:
    # F19 (on offset) → F26 (new body)
    with BuildSketch(Plane.XY.offset(-914.4)):
        with Locations((0, 96.4519628315)):
            Rectangle(F19_W, F19_H)
    extrude(amount=-F26_DEPTH)


with BuildPart() as f28:
    # F27 (on offset) → F28 (new body)
    with BuildSketch(Plane.XY.offset(-914.4)):
        with Locations((0, -158.5275032271)):
            Circle(F27_R)
    extrude(amount=F28_DEPTH)


solid = Compound([f1.part, f10.part, f12.part, f17.part, f17b.part, f17c.part, f17d.part, f17e.part, f17f.part, f17g.part, f17h.part, f17i.part, f17j.part, f17k.part, f17l.part, f17m.part, f17n.part, f17o.part, f17p.part, f17q.part, f21.part, f23.part, f25.part, f26.part, f28.part])
